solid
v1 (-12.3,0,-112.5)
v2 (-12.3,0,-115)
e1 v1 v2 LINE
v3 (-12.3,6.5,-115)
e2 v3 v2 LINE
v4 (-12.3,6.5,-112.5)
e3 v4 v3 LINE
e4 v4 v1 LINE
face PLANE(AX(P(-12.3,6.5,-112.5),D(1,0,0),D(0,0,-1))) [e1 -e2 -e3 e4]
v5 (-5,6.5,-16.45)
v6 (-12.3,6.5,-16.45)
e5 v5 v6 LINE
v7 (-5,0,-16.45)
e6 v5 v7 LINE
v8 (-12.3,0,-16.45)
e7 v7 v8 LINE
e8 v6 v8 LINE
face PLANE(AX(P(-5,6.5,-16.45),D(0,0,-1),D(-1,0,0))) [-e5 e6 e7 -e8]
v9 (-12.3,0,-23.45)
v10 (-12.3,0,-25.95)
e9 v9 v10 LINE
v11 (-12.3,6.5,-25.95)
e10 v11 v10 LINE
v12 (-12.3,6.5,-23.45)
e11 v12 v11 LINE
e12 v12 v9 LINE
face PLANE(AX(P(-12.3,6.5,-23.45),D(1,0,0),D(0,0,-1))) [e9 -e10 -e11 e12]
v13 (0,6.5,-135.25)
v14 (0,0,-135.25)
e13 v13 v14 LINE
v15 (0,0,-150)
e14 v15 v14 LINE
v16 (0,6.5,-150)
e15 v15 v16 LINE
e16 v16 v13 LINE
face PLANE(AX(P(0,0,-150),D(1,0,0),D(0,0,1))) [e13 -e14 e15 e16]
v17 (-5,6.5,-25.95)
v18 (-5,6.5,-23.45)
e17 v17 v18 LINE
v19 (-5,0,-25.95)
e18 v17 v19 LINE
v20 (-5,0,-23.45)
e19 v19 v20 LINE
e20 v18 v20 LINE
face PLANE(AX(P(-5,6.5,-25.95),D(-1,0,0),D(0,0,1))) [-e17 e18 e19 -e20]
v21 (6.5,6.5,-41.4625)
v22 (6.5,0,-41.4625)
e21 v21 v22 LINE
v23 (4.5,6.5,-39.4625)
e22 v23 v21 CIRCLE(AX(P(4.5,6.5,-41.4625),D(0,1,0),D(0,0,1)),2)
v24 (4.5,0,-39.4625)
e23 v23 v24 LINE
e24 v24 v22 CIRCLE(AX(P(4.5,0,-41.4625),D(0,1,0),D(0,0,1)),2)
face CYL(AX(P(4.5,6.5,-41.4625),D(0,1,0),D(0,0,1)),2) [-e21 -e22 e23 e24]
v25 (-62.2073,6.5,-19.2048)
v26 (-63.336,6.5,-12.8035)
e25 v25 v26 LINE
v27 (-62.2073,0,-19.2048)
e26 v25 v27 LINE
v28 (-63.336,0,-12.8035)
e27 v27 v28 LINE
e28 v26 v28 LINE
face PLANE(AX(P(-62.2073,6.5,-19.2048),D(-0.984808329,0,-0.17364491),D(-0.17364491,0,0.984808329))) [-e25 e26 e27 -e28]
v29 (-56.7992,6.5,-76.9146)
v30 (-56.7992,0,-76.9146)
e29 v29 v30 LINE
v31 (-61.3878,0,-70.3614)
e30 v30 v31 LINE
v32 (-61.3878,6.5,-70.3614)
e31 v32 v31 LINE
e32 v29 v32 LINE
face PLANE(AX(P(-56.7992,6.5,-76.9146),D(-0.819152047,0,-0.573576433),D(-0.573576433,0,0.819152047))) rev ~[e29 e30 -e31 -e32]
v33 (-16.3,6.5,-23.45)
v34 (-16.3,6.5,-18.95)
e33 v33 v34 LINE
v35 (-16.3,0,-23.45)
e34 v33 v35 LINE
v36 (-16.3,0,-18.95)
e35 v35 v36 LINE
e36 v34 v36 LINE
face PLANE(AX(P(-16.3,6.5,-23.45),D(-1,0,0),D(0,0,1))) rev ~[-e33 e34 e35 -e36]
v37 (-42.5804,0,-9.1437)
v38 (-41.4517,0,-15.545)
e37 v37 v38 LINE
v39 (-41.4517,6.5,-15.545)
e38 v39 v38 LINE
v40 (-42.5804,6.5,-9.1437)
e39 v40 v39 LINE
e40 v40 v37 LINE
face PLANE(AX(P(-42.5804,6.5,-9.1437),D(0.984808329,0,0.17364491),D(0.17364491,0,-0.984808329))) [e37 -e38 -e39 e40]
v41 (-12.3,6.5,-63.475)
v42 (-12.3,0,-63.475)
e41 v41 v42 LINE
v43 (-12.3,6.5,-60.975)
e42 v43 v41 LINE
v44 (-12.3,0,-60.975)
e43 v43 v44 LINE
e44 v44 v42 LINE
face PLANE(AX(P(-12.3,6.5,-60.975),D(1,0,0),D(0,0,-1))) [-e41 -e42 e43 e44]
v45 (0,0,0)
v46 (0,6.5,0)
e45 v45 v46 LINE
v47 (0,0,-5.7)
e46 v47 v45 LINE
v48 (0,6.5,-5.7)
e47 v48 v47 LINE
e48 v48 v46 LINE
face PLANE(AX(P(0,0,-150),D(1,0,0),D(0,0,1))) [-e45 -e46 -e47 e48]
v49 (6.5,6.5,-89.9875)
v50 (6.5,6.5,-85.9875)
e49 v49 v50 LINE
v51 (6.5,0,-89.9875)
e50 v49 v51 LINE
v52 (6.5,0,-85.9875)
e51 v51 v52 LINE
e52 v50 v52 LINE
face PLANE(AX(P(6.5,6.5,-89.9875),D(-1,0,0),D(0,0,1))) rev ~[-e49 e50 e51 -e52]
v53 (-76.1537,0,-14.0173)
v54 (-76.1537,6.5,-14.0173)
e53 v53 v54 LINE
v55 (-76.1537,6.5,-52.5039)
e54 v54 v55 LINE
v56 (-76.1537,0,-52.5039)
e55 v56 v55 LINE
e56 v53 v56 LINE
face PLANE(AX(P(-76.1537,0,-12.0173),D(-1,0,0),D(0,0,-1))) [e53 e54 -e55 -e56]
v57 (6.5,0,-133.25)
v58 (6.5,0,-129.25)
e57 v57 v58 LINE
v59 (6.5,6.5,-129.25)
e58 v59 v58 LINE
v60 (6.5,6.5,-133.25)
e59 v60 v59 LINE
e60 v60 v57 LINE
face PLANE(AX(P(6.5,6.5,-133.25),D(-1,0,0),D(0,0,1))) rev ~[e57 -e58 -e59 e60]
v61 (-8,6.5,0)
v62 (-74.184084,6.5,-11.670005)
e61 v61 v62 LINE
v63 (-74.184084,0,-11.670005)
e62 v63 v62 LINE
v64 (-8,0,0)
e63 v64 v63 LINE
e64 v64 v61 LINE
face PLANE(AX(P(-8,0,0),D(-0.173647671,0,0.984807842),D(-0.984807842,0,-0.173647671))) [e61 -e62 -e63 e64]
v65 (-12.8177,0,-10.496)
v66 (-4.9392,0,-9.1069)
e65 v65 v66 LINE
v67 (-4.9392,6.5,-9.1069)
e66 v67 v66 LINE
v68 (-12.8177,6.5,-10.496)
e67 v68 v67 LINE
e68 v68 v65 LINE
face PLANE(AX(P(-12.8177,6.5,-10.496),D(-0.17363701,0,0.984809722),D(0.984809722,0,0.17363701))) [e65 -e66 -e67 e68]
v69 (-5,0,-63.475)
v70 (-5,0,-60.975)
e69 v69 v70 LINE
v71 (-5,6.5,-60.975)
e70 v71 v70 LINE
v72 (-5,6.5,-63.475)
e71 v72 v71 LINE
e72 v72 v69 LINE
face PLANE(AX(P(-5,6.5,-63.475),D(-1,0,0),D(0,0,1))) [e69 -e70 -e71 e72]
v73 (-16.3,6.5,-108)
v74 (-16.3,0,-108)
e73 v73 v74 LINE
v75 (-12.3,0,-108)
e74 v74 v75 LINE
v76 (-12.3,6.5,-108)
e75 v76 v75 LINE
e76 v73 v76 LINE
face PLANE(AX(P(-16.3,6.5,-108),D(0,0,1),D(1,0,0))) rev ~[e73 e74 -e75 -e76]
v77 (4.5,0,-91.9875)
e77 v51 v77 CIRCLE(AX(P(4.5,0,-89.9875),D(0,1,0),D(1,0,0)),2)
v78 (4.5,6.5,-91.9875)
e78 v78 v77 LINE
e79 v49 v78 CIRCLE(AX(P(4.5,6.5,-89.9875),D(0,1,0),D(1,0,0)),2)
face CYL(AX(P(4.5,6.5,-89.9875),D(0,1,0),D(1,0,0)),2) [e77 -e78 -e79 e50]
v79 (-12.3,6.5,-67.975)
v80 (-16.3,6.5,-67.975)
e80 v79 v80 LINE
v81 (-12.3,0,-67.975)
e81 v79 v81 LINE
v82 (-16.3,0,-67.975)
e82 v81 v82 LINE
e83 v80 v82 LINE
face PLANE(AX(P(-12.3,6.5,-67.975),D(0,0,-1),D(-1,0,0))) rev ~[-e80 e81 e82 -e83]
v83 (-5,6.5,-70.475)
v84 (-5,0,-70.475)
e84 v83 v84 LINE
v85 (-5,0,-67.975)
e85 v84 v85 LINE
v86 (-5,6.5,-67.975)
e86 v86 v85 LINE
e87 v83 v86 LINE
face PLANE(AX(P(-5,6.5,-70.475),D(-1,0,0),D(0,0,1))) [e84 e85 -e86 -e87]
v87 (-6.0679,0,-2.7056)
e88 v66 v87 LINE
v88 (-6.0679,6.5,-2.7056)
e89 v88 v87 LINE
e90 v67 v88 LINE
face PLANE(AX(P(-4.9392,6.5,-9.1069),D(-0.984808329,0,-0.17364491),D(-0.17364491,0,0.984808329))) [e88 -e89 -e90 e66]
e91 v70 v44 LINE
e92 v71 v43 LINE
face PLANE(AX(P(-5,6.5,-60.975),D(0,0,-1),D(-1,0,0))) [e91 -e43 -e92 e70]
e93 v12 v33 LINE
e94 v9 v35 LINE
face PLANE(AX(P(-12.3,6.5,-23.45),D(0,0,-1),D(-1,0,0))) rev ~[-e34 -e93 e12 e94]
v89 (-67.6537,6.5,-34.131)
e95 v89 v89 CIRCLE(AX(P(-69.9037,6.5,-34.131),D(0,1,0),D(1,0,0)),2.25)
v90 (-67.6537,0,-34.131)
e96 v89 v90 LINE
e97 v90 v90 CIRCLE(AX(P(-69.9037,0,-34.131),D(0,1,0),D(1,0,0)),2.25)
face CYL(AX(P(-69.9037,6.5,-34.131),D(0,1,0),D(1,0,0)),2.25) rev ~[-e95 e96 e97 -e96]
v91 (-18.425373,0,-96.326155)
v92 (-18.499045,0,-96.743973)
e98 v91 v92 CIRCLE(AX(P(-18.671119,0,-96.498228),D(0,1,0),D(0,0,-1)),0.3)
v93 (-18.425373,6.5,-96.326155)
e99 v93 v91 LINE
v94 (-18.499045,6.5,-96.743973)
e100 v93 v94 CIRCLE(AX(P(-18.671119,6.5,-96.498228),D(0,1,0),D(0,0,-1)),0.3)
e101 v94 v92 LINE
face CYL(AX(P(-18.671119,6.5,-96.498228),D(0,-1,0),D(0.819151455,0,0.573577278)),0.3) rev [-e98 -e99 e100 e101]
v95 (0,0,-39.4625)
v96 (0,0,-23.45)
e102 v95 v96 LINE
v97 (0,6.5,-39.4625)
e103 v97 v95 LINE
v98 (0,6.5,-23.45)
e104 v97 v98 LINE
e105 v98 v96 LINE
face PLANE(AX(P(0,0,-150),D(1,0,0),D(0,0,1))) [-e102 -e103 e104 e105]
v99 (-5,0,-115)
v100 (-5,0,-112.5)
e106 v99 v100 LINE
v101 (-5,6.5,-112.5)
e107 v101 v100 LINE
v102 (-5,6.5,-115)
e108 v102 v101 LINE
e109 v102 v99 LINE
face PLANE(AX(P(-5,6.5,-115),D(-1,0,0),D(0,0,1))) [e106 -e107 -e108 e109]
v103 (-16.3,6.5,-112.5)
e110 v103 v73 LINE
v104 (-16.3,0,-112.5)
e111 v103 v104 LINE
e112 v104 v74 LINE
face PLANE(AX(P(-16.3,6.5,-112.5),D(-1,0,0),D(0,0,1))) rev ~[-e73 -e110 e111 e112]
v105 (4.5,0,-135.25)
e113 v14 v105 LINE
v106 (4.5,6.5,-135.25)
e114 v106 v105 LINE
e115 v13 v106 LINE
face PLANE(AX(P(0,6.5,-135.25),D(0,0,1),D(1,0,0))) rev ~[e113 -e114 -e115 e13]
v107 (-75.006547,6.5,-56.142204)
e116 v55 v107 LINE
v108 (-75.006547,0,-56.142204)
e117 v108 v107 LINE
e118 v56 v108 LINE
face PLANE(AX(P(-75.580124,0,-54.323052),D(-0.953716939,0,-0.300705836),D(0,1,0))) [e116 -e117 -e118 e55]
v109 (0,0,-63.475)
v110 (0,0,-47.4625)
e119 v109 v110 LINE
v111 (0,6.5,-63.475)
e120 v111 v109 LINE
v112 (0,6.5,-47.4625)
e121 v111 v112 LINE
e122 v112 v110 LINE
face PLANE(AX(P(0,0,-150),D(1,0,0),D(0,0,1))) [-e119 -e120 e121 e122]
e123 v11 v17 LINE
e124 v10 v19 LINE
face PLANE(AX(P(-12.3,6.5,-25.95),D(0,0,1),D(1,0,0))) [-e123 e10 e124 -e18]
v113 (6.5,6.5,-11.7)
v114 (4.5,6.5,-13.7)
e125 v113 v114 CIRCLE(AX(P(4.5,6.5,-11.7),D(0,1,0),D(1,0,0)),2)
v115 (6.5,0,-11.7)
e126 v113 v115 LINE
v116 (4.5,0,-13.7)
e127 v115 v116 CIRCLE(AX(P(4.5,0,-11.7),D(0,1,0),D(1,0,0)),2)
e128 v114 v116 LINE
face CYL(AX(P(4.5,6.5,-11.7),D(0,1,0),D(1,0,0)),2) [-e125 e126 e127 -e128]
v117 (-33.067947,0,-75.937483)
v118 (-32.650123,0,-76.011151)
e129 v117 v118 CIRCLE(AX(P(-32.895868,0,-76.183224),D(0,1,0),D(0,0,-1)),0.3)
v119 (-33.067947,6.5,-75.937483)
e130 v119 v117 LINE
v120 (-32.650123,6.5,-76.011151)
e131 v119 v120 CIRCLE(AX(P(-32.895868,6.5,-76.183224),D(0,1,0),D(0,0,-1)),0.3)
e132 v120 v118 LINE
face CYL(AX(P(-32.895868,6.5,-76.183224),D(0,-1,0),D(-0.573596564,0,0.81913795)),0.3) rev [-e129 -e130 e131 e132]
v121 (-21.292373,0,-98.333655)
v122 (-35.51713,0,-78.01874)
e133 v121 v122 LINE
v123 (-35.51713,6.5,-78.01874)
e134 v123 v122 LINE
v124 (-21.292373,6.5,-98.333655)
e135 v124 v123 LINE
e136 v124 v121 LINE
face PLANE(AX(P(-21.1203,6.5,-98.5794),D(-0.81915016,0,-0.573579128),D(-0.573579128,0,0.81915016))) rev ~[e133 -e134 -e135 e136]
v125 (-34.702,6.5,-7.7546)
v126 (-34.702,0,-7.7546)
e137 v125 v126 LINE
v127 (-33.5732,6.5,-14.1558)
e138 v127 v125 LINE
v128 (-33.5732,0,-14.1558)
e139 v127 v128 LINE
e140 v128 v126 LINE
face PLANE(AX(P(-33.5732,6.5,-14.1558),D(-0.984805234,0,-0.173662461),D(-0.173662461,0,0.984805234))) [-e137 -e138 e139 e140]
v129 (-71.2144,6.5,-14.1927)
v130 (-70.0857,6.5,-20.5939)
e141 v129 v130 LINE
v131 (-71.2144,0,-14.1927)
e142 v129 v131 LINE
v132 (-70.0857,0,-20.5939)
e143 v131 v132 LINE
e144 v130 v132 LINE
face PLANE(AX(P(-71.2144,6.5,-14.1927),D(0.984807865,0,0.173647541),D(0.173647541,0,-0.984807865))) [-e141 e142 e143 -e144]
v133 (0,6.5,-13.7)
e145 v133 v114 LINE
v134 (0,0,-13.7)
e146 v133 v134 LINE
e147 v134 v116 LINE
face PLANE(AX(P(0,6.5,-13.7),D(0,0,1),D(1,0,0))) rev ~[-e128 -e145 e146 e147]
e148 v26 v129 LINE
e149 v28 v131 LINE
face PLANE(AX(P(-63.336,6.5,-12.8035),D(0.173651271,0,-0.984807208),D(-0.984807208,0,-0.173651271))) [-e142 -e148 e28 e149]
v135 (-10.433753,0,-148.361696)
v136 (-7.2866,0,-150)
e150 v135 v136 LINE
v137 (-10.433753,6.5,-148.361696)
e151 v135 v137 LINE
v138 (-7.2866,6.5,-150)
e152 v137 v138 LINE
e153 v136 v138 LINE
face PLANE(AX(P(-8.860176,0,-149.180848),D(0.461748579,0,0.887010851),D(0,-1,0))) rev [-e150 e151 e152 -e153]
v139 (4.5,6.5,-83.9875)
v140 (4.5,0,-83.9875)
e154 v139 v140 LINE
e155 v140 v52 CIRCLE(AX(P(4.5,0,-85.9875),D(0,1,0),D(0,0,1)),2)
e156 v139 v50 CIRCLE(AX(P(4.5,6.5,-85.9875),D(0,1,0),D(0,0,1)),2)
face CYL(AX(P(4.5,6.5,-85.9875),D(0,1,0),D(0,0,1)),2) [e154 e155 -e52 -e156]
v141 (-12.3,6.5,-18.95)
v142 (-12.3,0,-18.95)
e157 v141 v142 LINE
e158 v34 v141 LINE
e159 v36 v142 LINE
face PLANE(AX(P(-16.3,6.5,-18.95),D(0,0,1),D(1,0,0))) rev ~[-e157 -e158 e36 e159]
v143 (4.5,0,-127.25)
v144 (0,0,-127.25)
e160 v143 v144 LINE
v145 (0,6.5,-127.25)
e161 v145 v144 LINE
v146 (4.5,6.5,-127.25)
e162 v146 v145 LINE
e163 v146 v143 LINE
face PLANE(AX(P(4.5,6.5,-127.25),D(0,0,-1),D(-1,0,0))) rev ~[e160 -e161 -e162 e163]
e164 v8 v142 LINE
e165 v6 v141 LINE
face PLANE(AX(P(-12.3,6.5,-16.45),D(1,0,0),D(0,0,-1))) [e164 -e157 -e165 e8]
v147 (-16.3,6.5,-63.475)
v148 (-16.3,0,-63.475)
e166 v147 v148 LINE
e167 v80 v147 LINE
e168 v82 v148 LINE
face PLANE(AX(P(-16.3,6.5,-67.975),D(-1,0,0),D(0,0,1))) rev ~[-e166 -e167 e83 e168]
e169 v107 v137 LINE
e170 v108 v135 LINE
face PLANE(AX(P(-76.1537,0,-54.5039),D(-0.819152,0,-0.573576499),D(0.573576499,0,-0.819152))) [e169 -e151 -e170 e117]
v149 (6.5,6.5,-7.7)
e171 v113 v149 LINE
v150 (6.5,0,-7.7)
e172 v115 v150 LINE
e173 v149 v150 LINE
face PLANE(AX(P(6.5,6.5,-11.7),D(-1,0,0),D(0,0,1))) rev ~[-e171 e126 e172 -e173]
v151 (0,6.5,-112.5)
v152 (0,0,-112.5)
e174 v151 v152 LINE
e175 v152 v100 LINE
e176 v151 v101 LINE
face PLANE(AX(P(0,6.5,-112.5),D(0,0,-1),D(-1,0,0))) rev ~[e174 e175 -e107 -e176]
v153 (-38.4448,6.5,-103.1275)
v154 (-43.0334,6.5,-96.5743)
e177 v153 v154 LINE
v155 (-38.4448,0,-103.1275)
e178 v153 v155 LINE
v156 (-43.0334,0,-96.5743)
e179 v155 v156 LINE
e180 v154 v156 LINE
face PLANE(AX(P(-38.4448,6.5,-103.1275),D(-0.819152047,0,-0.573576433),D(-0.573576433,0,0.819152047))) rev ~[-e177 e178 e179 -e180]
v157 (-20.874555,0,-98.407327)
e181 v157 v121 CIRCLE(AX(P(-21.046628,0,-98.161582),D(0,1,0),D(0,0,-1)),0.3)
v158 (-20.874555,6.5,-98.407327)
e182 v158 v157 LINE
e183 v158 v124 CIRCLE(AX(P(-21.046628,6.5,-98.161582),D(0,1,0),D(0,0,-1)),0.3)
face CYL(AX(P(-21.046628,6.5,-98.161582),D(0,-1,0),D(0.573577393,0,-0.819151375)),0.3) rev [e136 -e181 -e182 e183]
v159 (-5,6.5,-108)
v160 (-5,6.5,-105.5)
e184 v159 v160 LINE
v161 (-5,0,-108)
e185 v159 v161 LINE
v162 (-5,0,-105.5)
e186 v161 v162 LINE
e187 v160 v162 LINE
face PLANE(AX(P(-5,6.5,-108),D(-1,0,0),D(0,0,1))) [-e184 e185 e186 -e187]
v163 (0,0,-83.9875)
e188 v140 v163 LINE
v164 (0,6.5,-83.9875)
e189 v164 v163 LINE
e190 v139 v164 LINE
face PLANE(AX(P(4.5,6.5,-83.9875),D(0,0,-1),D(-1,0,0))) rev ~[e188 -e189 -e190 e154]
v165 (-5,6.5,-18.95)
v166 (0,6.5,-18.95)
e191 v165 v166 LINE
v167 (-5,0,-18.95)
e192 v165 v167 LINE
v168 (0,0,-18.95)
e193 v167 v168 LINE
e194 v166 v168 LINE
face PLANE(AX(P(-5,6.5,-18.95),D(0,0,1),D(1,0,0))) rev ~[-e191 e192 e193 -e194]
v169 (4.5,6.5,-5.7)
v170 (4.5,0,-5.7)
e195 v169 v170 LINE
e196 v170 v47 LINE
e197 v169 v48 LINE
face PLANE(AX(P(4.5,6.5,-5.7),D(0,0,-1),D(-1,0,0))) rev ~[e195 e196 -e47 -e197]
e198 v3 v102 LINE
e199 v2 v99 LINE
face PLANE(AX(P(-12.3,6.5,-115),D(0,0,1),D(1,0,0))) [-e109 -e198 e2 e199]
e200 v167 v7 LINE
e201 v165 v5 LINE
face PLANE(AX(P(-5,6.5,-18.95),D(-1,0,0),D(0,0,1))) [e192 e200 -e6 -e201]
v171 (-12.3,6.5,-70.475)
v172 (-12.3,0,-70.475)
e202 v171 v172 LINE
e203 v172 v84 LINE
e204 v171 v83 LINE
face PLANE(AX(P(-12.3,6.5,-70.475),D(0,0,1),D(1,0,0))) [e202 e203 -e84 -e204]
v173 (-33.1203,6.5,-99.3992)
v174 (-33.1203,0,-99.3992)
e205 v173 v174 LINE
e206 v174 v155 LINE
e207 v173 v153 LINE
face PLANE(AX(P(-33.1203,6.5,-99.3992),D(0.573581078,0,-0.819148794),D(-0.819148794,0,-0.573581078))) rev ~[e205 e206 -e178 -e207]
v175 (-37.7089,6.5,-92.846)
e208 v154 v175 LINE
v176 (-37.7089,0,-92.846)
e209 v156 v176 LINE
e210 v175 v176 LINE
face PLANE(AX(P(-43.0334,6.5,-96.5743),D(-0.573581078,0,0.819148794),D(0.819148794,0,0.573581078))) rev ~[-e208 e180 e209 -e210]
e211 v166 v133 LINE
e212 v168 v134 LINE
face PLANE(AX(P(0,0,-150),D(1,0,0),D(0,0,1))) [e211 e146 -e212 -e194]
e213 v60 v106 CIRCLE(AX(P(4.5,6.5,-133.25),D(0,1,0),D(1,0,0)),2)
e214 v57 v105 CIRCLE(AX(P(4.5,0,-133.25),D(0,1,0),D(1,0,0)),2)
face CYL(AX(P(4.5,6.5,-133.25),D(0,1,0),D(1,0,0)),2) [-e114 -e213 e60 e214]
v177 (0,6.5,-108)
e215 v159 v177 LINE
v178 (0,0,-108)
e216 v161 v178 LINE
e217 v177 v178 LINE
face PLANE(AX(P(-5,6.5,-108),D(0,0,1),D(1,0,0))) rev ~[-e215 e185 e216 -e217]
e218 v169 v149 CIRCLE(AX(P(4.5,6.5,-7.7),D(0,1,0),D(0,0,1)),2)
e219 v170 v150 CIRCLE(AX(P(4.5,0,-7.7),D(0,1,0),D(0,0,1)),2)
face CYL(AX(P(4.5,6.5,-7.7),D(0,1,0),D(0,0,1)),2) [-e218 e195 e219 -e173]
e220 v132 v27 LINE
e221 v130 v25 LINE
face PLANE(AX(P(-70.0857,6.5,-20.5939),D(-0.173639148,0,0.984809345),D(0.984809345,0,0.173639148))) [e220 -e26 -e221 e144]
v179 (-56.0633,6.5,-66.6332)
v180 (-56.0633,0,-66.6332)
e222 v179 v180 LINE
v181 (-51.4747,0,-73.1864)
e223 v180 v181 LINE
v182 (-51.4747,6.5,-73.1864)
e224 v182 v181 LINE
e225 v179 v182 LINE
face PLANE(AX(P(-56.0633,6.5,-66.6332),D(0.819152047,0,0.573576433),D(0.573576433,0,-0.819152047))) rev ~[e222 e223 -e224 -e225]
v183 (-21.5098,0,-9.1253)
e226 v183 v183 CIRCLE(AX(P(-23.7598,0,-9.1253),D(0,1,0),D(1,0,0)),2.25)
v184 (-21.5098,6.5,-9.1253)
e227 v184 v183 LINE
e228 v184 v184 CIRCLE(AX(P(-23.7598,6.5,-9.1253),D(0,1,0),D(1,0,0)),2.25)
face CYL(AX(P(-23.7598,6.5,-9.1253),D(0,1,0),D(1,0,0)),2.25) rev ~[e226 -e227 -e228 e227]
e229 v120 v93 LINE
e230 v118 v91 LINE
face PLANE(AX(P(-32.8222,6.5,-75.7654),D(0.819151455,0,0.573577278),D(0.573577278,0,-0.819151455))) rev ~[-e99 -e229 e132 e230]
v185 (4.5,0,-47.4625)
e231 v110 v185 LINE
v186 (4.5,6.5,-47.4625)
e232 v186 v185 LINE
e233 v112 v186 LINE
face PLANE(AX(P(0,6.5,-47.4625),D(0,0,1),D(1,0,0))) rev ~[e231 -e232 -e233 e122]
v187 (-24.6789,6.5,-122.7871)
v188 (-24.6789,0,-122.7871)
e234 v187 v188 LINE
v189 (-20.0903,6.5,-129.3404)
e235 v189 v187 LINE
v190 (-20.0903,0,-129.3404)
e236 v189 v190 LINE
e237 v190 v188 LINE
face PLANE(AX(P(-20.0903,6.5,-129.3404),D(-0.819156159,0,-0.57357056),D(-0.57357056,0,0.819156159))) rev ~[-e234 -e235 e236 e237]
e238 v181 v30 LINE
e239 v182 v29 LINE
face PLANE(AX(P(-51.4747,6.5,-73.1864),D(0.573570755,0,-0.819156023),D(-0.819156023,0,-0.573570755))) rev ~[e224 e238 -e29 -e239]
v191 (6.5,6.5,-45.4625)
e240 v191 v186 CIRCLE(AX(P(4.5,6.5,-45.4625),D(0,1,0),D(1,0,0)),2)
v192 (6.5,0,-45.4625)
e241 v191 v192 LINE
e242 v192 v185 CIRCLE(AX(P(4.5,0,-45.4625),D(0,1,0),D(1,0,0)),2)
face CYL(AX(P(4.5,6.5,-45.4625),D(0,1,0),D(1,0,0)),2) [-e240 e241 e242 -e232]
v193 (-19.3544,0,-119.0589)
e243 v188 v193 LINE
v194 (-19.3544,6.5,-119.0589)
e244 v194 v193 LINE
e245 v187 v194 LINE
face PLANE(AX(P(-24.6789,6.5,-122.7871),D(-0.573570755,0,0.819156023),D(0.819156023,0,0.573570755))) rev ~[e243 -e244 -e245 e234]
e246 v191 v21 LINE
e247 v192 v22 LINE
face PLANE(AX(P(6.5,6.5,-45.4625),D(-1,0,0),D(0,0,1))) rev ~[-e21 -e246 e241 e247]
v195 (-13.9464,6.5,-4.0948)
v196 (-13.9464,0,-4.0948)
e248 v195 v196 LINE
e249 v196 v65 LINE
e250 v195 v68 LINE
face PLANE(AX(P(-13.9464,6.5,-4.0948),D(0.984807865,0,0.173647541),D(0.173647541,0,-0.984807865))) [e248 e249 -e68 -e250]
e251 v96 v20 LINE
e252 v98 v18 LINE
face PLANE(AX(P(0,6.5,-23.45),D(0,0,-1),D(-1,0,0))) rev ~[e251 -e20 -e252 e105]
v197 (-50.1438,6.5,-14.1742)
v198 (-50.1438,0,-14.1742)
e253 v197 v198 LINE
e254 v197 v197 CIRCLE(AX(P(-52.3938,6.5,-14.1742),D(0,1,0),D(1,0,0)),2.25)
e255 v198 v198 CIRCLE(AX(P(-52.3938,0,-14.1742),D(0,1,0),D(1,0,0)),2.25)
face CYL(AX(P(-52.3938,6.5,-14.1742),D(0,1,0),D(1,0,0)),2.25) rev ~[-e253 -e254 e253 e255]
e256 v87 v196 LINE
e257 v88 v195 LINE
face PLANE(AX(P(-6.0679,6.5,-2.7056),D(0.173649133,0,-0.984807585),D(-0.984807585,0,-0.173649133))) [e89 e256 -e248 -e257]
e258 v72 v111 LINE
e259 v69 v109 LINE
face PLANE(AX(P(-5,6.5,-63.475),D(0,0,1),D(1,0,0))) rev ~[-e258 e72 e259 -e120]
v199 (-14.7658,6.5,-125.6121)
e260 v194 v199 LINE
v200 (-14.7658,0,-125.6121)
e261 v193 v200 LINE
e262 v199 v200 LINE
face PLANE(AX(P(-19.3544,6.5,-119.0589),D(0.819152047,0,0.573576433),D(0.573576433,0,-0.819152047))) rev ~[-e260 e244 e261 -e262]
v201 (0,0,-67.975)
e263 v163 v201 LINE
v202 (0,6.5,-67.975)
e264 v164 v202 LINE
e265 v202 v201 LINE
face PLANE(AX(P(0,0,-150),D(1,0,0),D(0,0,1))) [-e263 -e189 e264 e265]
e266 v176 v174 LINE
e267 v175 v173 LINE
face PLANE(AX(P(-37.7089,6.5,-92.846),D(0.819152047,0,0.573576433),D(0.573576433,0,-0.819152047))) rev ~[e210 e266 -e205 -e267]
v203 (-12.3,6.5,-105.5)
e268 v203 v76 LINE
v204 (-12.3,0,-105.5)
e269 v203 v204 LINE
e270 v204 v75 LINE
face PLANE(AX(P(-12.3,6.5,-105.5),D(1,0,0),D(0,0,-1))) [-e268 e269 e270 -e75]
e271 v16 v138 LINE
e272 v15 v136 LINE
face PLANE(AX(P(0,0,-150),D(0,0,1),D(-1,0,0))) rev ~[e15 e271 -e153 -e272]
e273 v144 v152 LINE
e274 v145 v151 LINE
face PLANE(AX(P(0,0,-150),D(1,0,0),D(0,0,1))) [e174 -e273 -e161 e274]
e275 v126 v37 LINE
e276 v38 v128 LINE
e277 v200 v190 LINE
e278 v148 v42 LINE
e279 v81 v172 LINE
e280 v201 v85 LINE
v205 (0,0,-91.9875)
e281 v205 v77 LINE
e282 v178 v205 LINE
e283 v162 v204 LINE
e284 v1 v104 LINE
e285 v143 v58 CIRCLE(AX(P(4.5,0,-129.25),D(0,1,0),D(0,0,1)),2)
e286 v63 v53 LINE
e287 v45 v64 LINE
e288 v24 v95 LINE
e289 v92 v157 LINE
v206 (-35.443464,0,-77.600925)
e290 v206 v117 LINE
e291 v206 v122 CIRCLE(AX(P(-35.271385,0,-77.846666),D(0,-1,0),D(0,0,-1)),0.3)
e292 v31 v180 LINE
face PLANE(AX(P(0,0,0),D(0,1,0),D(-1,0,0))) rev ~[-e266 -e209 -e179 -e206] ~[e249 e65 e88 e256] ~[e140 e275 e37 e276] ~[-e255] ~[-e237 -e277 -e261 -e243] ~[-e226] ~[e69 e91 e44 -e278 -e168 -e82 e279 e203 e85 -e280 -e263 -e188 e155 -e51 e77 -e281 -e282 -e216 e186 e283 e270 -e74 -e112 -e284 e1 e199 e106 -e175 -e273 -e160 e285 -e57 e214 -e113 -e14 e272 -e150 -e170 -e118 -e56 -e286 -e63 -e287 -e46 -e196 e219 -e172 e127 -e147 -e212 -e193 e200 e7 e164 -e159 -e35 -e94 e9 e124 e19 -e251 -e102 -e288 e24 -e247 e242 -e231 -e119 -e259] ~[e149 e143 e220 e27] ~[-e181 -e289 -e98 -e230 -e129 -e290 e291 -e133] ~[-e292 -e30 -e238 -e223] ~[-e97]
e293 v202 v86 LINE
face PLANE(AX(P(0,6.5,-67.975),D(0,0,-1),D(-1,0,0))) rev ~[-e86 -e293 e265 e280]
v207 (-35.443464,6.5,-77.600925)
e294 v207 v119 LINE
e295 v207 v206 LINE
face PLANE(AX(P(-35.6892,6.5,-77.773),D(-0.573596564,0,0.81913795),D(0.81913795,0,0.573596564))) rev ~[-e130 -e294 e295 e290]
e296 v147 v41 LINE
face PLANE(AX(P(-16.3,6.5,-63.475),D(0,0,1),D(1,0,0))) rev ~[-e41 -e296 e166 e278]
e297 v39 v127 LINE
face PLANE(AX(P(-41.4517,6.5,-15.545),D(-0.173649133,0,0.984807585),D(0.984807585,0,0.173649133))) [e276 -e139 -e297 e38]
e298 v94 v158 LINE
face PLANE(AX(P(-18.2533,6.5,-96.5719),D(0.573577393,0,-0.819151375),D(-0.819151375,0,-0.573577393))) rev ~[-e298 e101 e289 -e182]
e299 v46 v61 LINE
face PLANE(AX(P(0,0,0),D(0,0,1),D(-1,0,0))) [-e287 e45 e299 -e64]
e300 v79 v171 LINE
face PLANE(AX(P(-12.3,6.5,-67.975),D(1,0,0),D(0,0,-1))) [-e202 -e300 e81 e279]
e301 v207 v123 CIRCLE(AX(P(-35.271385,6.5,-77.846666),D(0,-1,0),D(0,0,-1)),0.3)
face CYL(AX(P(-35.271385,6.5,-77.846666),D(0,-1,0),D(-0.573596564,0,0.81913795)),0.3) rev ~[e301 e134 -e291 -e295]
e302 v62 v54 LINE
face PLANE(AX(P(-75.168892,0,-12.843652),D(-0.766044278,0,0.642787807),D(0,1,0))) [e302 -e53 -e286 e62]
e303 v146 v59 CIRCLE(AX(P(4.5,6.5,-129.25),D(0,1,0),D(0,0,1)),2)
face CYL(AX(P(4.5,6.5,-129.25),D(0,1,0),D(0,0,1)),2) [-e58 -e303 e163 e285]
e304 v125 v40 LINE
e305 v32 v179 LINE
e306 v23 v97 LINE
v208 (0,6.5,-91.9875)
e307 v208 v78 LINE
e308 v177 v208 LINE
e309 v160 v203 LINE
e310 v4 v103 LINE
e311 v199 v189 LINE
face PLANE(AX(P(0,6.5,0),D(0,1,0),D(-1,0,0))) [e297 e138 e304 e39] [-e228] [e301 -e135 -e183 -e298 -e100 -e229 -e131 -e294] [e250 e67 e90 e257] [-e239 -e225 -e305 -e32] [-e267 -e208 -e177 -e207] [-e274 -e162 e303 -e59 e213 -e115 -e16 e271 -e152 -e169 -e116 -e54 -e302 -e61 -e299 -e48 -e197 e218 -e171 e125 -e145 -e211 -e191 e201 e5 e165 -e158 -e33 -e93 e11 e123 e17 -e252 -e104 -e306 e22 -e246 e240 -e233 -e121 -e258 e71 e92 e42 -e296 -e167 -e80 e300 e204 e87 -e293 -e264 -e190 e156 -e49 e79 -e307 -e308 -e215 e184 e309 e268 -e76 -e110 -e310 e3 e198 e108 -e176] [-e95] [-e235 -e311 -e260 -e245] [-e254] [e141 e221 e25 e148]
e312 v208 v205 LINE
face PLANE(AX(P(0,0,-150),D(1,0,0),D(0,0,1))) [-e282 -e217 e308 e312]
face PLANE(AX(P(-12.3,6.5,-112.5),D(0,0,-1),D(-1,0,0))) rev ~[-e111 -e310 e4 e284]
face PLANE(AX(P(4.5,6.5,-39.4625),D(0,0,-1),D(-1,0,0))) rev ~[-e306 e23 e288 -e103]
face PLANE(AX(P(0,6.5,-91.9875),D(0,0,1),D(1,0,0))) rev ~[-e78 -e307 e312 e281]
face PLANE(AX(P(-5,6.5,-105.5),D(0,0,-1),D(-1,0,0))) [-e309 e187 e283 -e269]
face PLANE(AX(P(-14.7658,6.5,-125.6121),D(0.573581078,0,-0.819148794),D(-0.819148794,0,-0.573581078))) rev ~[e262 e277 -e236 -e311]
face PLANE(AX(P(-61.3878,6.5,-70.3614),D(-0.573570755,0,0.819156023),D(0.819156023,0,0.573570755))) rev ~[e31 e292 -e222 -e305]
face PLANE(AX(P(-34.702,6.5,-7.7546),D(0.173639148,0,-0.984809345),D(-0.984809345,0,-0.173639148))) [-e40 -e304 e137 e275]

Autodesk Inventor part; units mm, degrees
ref_plane "YZ Plane" through (0, 0, 0) normal (1, 0, 0) x (0, 1, 0)
ref_plane "XZ Plane" through (0, 0, 0) normal (0, 1, 0) x (-1, 0, 0)
ref_plane "XY Plane" through (0, 0, 0) normal (0, 0, 1) x (1, 0, 0)
sketch "Sketch1" plane through (0, 0, 0) normal (0, 1, 0) x (-1, 0, 0)
  line L0 (8, 0) -> (76.1537, -12.0173)
  line L1 (76.1537, -12.0173) -> (76.1537, -54.5039)
  line L2 (76.1537, -54.5039) -> (9.2866, -150)
  line L3 (0, -150) -> (0, 0)
  line L4 (75.1537, -50.7018) -> (69.8292, -46.9735) construction
  line L5 (69.8292, -46.9735) -> (1, -145.2718) construction
  line L6 (1, -145.2718) -> (6.3245, -149) construction
  line L7 (6.3245, -149) -> (75.1537, -50.7018) construction
  line L8 (75.1537, -14.8873) -> (74.0249, -21.2885) construction
  line L9 (74.0249, -21.2885) -> (1, -8.4123) construction
  line L10 (1, -8.4123) -> (2.1287, -2.011) construction
  line L11 (2.1287, -2.011) -> (75.1537, -14.8873) construction
  line L12 (73.1537, -45.9735) -> (66.6537, -45.9735) construction
  line L13 (66.6537, -45.9735) -> (66.6537, -22.2885) construction
  line L14 (66.6537, -22.2885) -> (73.1537, -22.2885) construction
  line L15 (73.1537, -22.2885) -> (73.1537, -45.9735) construction
  line L16 (0, -150) -> (9.2866, -150)
  line L17 (0, 0) -> (8, 0)
  line L18 (66.6537, -51.5086) -> (66.6537, -19.9888)
  point P0 (0, 0)
  dimension "d0" = 6.5
  dimension "d1" = 3
  dimension "d2" = 3
  dimension "d3" = 3
  dimension "d4" = 120
  dimension "d5" = 80
  dimension "d6" = 35
  dimension "d7" = 1
  dimension "d8" = 1
  dimension "d9" = 1
  dimension "d10" = 1
  dimension "d12" = 1
  dimension "d13" = 8
  dimension "d14" = 150
extrude "Extrusion1" add sketch "Sketch1" along normal blind 6.5
chamfer "Chamfer1" distance 2 angle 45 3 edges at (-76.1537, 3.25, -54.5039) (-76.1537, 3.25, -12.0173) (-9.2866, 3.25, -150)
sketch "Sketch3" plane through (0, 6.5, 0) normal (0, 1, 0) x (1, 0, 0)
  line L0 (-10.4338, 148.3617) -> (-75.0065, 56.1423) projected
  line L1 (-76.1537, 52.5039) -> (-76.1537, 14.0173) projected
  line L2 (-74.184, 11.67) -> (-8, 0) projected
  line L3 (0, 0) -> (0, 150) projected
  line L4 (0, 150) -> (-7.2866, 150) projected
  line L5 (-6.3245, 149) -> (-1, 145.2718) construction
  line L6 (-1, 145.2718) -> (-69.8292, 46.9735) construction
  line L7 (-69.8292, 46.9735) -> (-75.1537, 50.7018) construction
  line L8 (-75.1537, 50.7018) -> (-6.3245, 149) construction
  line L9 (-73.1537, 45.9735) -> (-66.6537, 45.9735) construction
  line L10 (-66.6537, 45.9735) -> (-66.6537, 22.2885) construction
  line L11 (-66.6537, 22.2885) -> (-73.1537, 22.2885) construction
  line L12 (-73.1537, 22.2885) -> (-73.1537, 45.9735) construction
  line L13 (-74.0249, 21.2885) -> (-75.1537, 14.8873) construction
  line L14 (-75.1537, 14.8873) -> (-2.1287, 2.011) construction
  line L15 (-2.1287, 2.011) -> (-1, 8.4123) construction
  line L16 (-1, 8.4123) -> (-74.0249, 21.2885) construction
  circle A0 centre (-69.9037, 34.131) radius 2.25
  line L17 (-56.0633, 66.6332) -> (-51.4747, 73.1864)
  line L18 (-51.4747, 73.1864) -> (-56.7992, 76.9146)
  line L19 (-56.7992, 76.9146) -> (-61.3878, 70.3614)
  line L20 (-61.3878, 70.3614) -> (-56.0633, 66.6332)
  line L21 (-37.7089, 92.846) -> (-33.1203, 99.3992)
  line L22 (-33.1203, 99.3992) -> (-38.4448, 103.1275)
  line L23 (-38.4448, 103.1275) -> (-43.0334, 96.5743)
  line L24 (-43.0334, 96.5743) -> (-37.7089, 92.846)
  line L25 (-19.3544, 119.0589) -> (-14.7658, 125.6121)
  line L26 (-14.7658, 125.6121) -> (-20.0903, 129.3404)
  line L27 (-20.0903, 129.3404) -> (-24.6789, 122.7871)
  line L28 (-24.6789, 122.7871) -> (-19.3544, 119.0589)
  line L29 (-72.4914, 48.8376) -> (-58.7256, 68.4973) construction
  line L30 (-54.137, 75.0505) -> (-40.3711, 94.7101) construction
  line L31 (-35.7825, 101.2634) -> (-22.0167, 120.923) construction
  line L32 (-17.4281, 127.4762) -> (-3.6622, 147.1359) construction
  line L33 (-16.3, 112.5) -> (-16.3, 108)
  line L34 (0, 108) -> (0, 112.5)
  line L35 (-12.3, 115) -> (-5, 115)
  line L36 (-5, 105.5) -> (-12.3, 105.5)
  line L37 (0, 112.5) -> (-5, 112.5)
  line L38 (-12.3, 112.5) -> (-16.3, 112.5)
  line L39 (-16.3, 108) -> (-12.3, 108)
  line L40 (-5, 108) -> (0, 108)
  line L41 (-12.3, 105.5) -> (-12.3, 108)
  line L42 (-12.3, 112.5) -> (-12.3, 115)
  line L43 (-5, 115) -> (-5, 112.5)
  line L44 (-5, 108) -> (-5, 105.5)
  line L45 (-70.0857, 20.5939) -> (-62.2073, 19.2048)
  line L46 (-62.2073, 19.2048) -> (-63.336, 12.8035)
  line L47 (-63.336, 12.8035) -> (-71.2144, 14.1927)
  line L48 (-71.2144, 14.1927) -> (-70.0857, 20.5939)
  line L49 (-41.4517, 15.545) -> (-33.5732, 14.1558)
  line L50 (-33.5732, 14.1558) -> (-34.702, 7.7546)
  line L51 (-34.702, 7.7546) -> (-42.5804, 9.1437)
  line L52 (-42.5804, 9.1437) -> (-41.4517, 15.545)
  line L53 (-12.8177, 10.496) -> (-4.9392, 9.1069)
  line L54 (-4.9392, 9.1069) -> (-6.0679, 2.7056)
  line L55 (-6.0679, 2.7056) -> (-13.9464, 4.0948)
  line L56 (-13.9464, 4.0948) -> (-12.8177, 10.496)
  line L57 (-62.7716, 16.0041) -> (-42.0161, 12.3444) construction
  line L58 (-34.1376, 10.9552) -> (-13.382, 7.2954) construction
  circle A1 centre (-52.3938, 14.1742) radius 2.25
  circle A2 centre (-23.7598, 9.1253) radius 2.25
  line L59 (-16.3, 67.975) -> (-16.3, 63.475)
  line L60 (0, 63.475) -> (0, 67.975)
  line L61 (-12.3, 70.475) -> (-5, 70.475)
  line L62 (-5, 60.975) -> (-12.3, 60.975)
  line L63 (0, 67.975) -> (-5, 67.975)
  line L64 (-12.3, 67.975) -> (-16.3, 67.975)
  line L65 (-16.3, 63.475) -> (-12.3, 63.475)
  line L66 (-5, 63.475) -> (0, 63.475)
  line L67 (-12.3, 60.975) -> (-12.3, 63.475)
  line L68 (-12.3, 67.975) -> (-12.3, 70.475)
  line L69 (-5, 70.475) -> (-5, 67.975)
  line L70 (-5, 63.475) -> (-5, 60.975)
  line L71 (-16.3, 23.45) -> (-16.3, 18.95)
  line L72 (0, 18.95) -> (0, 23.45)
  line L73 (-12.3, 25.95) -> (-5, 25.95)
  line L74 (-5, 16.45) -> (-12.3, 16.45)
  line L75 (0, 23.45) -> (-5, 23.45)
  line L76 (-12.3, 23.45) -> (-16.3, 23.45)
  line L77 (-16.3, 18.95) -> (-12.3, 18.95)
  line L78 (-5, 18.95) -> (0, 18.95)
  line L79 (-12.3, 16.45) -> (-12.3, 18.95)
  line L80 (-12.3, 23.45) -> (-12.3, 25.95)
  line L81 (-5, 25.95) -> (-5, 23.45)
  line L82 (-5, 18.95) -> (-5, 16.45)
  line L83 (-8.65, 105.5) -> (-8.65, 70.475) construction
  line L84 (-8.65, 60.975) -> (-8.65, 25.95) construction
  line L85 (-8, 0) -> (0, 0) projected
  point P0 (-69.9037, 45.9735)
  point P1 (-73.1537, 34.131)
  point P2 (-16.3, 21.2)
  dimension "d25" = 6.5
  dimension "d26" = 3
  dimension "d27" = 3
  dimension "d28" = 3
  dimension "d29" = 120
  dimension "d30" = 1
  dimension "d31" = 1
  dimension "d32" = 1
  dimension "d33" = 1
  dimension "d34" = 1
  dimension "d35" = 4.5
  dimension "d36" = 8
  dimension "d37" = 4.5
  dimension "d38" = 5
  dimension "d39" = 4
  dimension "d40" = 7.3
  dimension "d41" = 2.5
  dimension "d42" = 4
  dimension "d43" = 4
  dimension "d44" = 4.5
  dimension "d45" = 5
  dimension "d46" = 4
  dimension "d47" = 7.3
  dimension "d48" = 2.5
  dimension "d49" = 4.5
  dimension "d50" = 5
  dimension "d51" = 4
  dimension "d52" = 7.3
  dimension "d53" = 2.5
  dimension "d55" = 35
  dimension "d67" = 21.2
extrude "Extrusion3" cut sketch "Sketch3" against normal through all
sketch "Sketch4" plane through (0, 6.5, 0) normal (0, 1, 0) x (1, 0, 0)
  line L0 (0, 67.975) -> (0, 108) projected
  line L1 (0, 112.5) -> (0, 150) projected
  line L2 (0, 0) -> (0, 18.95) projected
  line L3 (-16.3, 18.95) -> (-16.3, 23.45) projected
  line L4 (0, 23.45) -> (0, 63.475) projected
  line L5 (0, 135.25) -> (4.5, 135.25)
  line L6 (6.5, 133.25) -> (6.5, 129.25)
  line L7 (4.5, 127.25) -> (0, 127.25)
  line L8 (0, 127.25) -> (0, 135.25)
  line L9 (0, 91.9875) -> (4.5, 91.9875)
  line L10 (6.5, 89.9875) -> (6.5, 85.9875)
  line L11 (4.5, 83.9875) -> (0, 83.9875)
  line L12 (0, 83.9875) -> (0, 91.9875)
  line L13 (0, 47.4625) -> (4.5, 47.4625)
  line L14 (6.5, 45.4625) -> (6.5, 41.4625)
  line L15 (4.5, 39.4625) -> (0, 39.4625)
  line L16 (0, 39.4625) -> (0, 47.4625)
  line L17 (0, 13.7) -> (4.5, 13.7)
  line L18 (6.5, 11.7) -> (6.5, 7.7)
  line L19 (4.5, 5.7) -> (0, 5.7)
  line L20 (0, 5.7) -> (0, 13.7)
  arc A0 (6.5, 133.25) -> (4.5, 135.25) centre (4.5, 133.25) ccw
  arc A1 (4.5, 127.25) -> (6.5, 129.25) centre (4.5, 129.25) ccw
  arc A2 (6.5, 89.9875) -> (4.5, 91.9875) centre (4.5, 89.9875) ccw
  arc A3 (4.5, 83.9875) -> (6.5, 85.9875) centre (4.5, 85.9875) ccw
  arc A4 (6.5, 45.4625) -> (4.5, 47.4625) centre (4.5, 45.4625) ccw
  arc A5 (4.5, 39.4625) -> (6.5, 41.4625) centre (4.5, 41.4625) ccw
  arc A6 (6.5, 11.7) -> (4.5, 13.7) centre (4.5, 11.7) ccw
  arc A7 (4.5, 5.7) -> (6.5, 7.7) centre (4.5, 7.7) ccw
  point P0 (-16.3, 21.2)
  point P1 (6.5, 131.25)
  point P2 (0, 131.25)
  point P3 (6.5, 87.9875)
  point P4 (0, 87.9875)
  point P5 (6.5, 43.4625)
  point P6 (0, 43.4625)
  dimension "d58" = 2
  dimension "d59" = 8
  dimension "d60" = 8
  dimension "d61" = 8
  dimension "d62" = 8
  dimension "d63" = 6.5
  dimension "d64" = 7.5
extrude "Extrusion4" add sketch "Sketch4" against normal blind 6.5
sketch "Sketch5" plane through (0, 6.5, 0) normal (0, 1, 0) x (1, 0, 0)
  line L0 (0, 150) -> (-7.2866, 150) projected
  line L1 (-10.4338, 148.3617) -> (-75.0065, 56.1423) projected
  line L2 (-20.9484, 97.6045) -> (-19.2282, 96.4) construction
  line L3 (-19.2282, 96.4) -> (-32.9941, 76.7404) construction
  line L4 (-32.9941, 76.7404) -> (-34.7143, 77.9449) construction
  line L5 (-34.7143, 77.9449) -> (-20.9484, 97.6045) construction
  line L6 (-32.8222, 75.7654) -> (-18.2533, 96.5719)
  line L7 (-18.2533, 96.5719) -> (-21.1203, 98.5794)
  line L8 (-21.1203, 98.5794) -> (-35.6892, 77.773)
  line L9 (-35.6892, 77.773) -> (-32.8222, 75.7654)
  dimension "d68" = 20.5
  dimension "d69" = 24
  dimension "d70" = 2.1
  dimension "d71" = 53.6
  dimension "d72" = 0.7
extrude "Extrusion5" cut sketch "Sketch5" against normal through all
fillet "Fillet1" radius 0.3 4 edges at (-32.8222, 3.25, -75.7654) (-18.2533, 3.25, -96.5719) (-21.1203, 3.25, -98.5794) (-35.6892, 3.25, -77.773)
equation "\"d60\" = d59"
equation "\"d61\" = d60"
equation "\"d62\" = d61"
properties part number "front_panel_brace_left" material "Plywood, Finish"
